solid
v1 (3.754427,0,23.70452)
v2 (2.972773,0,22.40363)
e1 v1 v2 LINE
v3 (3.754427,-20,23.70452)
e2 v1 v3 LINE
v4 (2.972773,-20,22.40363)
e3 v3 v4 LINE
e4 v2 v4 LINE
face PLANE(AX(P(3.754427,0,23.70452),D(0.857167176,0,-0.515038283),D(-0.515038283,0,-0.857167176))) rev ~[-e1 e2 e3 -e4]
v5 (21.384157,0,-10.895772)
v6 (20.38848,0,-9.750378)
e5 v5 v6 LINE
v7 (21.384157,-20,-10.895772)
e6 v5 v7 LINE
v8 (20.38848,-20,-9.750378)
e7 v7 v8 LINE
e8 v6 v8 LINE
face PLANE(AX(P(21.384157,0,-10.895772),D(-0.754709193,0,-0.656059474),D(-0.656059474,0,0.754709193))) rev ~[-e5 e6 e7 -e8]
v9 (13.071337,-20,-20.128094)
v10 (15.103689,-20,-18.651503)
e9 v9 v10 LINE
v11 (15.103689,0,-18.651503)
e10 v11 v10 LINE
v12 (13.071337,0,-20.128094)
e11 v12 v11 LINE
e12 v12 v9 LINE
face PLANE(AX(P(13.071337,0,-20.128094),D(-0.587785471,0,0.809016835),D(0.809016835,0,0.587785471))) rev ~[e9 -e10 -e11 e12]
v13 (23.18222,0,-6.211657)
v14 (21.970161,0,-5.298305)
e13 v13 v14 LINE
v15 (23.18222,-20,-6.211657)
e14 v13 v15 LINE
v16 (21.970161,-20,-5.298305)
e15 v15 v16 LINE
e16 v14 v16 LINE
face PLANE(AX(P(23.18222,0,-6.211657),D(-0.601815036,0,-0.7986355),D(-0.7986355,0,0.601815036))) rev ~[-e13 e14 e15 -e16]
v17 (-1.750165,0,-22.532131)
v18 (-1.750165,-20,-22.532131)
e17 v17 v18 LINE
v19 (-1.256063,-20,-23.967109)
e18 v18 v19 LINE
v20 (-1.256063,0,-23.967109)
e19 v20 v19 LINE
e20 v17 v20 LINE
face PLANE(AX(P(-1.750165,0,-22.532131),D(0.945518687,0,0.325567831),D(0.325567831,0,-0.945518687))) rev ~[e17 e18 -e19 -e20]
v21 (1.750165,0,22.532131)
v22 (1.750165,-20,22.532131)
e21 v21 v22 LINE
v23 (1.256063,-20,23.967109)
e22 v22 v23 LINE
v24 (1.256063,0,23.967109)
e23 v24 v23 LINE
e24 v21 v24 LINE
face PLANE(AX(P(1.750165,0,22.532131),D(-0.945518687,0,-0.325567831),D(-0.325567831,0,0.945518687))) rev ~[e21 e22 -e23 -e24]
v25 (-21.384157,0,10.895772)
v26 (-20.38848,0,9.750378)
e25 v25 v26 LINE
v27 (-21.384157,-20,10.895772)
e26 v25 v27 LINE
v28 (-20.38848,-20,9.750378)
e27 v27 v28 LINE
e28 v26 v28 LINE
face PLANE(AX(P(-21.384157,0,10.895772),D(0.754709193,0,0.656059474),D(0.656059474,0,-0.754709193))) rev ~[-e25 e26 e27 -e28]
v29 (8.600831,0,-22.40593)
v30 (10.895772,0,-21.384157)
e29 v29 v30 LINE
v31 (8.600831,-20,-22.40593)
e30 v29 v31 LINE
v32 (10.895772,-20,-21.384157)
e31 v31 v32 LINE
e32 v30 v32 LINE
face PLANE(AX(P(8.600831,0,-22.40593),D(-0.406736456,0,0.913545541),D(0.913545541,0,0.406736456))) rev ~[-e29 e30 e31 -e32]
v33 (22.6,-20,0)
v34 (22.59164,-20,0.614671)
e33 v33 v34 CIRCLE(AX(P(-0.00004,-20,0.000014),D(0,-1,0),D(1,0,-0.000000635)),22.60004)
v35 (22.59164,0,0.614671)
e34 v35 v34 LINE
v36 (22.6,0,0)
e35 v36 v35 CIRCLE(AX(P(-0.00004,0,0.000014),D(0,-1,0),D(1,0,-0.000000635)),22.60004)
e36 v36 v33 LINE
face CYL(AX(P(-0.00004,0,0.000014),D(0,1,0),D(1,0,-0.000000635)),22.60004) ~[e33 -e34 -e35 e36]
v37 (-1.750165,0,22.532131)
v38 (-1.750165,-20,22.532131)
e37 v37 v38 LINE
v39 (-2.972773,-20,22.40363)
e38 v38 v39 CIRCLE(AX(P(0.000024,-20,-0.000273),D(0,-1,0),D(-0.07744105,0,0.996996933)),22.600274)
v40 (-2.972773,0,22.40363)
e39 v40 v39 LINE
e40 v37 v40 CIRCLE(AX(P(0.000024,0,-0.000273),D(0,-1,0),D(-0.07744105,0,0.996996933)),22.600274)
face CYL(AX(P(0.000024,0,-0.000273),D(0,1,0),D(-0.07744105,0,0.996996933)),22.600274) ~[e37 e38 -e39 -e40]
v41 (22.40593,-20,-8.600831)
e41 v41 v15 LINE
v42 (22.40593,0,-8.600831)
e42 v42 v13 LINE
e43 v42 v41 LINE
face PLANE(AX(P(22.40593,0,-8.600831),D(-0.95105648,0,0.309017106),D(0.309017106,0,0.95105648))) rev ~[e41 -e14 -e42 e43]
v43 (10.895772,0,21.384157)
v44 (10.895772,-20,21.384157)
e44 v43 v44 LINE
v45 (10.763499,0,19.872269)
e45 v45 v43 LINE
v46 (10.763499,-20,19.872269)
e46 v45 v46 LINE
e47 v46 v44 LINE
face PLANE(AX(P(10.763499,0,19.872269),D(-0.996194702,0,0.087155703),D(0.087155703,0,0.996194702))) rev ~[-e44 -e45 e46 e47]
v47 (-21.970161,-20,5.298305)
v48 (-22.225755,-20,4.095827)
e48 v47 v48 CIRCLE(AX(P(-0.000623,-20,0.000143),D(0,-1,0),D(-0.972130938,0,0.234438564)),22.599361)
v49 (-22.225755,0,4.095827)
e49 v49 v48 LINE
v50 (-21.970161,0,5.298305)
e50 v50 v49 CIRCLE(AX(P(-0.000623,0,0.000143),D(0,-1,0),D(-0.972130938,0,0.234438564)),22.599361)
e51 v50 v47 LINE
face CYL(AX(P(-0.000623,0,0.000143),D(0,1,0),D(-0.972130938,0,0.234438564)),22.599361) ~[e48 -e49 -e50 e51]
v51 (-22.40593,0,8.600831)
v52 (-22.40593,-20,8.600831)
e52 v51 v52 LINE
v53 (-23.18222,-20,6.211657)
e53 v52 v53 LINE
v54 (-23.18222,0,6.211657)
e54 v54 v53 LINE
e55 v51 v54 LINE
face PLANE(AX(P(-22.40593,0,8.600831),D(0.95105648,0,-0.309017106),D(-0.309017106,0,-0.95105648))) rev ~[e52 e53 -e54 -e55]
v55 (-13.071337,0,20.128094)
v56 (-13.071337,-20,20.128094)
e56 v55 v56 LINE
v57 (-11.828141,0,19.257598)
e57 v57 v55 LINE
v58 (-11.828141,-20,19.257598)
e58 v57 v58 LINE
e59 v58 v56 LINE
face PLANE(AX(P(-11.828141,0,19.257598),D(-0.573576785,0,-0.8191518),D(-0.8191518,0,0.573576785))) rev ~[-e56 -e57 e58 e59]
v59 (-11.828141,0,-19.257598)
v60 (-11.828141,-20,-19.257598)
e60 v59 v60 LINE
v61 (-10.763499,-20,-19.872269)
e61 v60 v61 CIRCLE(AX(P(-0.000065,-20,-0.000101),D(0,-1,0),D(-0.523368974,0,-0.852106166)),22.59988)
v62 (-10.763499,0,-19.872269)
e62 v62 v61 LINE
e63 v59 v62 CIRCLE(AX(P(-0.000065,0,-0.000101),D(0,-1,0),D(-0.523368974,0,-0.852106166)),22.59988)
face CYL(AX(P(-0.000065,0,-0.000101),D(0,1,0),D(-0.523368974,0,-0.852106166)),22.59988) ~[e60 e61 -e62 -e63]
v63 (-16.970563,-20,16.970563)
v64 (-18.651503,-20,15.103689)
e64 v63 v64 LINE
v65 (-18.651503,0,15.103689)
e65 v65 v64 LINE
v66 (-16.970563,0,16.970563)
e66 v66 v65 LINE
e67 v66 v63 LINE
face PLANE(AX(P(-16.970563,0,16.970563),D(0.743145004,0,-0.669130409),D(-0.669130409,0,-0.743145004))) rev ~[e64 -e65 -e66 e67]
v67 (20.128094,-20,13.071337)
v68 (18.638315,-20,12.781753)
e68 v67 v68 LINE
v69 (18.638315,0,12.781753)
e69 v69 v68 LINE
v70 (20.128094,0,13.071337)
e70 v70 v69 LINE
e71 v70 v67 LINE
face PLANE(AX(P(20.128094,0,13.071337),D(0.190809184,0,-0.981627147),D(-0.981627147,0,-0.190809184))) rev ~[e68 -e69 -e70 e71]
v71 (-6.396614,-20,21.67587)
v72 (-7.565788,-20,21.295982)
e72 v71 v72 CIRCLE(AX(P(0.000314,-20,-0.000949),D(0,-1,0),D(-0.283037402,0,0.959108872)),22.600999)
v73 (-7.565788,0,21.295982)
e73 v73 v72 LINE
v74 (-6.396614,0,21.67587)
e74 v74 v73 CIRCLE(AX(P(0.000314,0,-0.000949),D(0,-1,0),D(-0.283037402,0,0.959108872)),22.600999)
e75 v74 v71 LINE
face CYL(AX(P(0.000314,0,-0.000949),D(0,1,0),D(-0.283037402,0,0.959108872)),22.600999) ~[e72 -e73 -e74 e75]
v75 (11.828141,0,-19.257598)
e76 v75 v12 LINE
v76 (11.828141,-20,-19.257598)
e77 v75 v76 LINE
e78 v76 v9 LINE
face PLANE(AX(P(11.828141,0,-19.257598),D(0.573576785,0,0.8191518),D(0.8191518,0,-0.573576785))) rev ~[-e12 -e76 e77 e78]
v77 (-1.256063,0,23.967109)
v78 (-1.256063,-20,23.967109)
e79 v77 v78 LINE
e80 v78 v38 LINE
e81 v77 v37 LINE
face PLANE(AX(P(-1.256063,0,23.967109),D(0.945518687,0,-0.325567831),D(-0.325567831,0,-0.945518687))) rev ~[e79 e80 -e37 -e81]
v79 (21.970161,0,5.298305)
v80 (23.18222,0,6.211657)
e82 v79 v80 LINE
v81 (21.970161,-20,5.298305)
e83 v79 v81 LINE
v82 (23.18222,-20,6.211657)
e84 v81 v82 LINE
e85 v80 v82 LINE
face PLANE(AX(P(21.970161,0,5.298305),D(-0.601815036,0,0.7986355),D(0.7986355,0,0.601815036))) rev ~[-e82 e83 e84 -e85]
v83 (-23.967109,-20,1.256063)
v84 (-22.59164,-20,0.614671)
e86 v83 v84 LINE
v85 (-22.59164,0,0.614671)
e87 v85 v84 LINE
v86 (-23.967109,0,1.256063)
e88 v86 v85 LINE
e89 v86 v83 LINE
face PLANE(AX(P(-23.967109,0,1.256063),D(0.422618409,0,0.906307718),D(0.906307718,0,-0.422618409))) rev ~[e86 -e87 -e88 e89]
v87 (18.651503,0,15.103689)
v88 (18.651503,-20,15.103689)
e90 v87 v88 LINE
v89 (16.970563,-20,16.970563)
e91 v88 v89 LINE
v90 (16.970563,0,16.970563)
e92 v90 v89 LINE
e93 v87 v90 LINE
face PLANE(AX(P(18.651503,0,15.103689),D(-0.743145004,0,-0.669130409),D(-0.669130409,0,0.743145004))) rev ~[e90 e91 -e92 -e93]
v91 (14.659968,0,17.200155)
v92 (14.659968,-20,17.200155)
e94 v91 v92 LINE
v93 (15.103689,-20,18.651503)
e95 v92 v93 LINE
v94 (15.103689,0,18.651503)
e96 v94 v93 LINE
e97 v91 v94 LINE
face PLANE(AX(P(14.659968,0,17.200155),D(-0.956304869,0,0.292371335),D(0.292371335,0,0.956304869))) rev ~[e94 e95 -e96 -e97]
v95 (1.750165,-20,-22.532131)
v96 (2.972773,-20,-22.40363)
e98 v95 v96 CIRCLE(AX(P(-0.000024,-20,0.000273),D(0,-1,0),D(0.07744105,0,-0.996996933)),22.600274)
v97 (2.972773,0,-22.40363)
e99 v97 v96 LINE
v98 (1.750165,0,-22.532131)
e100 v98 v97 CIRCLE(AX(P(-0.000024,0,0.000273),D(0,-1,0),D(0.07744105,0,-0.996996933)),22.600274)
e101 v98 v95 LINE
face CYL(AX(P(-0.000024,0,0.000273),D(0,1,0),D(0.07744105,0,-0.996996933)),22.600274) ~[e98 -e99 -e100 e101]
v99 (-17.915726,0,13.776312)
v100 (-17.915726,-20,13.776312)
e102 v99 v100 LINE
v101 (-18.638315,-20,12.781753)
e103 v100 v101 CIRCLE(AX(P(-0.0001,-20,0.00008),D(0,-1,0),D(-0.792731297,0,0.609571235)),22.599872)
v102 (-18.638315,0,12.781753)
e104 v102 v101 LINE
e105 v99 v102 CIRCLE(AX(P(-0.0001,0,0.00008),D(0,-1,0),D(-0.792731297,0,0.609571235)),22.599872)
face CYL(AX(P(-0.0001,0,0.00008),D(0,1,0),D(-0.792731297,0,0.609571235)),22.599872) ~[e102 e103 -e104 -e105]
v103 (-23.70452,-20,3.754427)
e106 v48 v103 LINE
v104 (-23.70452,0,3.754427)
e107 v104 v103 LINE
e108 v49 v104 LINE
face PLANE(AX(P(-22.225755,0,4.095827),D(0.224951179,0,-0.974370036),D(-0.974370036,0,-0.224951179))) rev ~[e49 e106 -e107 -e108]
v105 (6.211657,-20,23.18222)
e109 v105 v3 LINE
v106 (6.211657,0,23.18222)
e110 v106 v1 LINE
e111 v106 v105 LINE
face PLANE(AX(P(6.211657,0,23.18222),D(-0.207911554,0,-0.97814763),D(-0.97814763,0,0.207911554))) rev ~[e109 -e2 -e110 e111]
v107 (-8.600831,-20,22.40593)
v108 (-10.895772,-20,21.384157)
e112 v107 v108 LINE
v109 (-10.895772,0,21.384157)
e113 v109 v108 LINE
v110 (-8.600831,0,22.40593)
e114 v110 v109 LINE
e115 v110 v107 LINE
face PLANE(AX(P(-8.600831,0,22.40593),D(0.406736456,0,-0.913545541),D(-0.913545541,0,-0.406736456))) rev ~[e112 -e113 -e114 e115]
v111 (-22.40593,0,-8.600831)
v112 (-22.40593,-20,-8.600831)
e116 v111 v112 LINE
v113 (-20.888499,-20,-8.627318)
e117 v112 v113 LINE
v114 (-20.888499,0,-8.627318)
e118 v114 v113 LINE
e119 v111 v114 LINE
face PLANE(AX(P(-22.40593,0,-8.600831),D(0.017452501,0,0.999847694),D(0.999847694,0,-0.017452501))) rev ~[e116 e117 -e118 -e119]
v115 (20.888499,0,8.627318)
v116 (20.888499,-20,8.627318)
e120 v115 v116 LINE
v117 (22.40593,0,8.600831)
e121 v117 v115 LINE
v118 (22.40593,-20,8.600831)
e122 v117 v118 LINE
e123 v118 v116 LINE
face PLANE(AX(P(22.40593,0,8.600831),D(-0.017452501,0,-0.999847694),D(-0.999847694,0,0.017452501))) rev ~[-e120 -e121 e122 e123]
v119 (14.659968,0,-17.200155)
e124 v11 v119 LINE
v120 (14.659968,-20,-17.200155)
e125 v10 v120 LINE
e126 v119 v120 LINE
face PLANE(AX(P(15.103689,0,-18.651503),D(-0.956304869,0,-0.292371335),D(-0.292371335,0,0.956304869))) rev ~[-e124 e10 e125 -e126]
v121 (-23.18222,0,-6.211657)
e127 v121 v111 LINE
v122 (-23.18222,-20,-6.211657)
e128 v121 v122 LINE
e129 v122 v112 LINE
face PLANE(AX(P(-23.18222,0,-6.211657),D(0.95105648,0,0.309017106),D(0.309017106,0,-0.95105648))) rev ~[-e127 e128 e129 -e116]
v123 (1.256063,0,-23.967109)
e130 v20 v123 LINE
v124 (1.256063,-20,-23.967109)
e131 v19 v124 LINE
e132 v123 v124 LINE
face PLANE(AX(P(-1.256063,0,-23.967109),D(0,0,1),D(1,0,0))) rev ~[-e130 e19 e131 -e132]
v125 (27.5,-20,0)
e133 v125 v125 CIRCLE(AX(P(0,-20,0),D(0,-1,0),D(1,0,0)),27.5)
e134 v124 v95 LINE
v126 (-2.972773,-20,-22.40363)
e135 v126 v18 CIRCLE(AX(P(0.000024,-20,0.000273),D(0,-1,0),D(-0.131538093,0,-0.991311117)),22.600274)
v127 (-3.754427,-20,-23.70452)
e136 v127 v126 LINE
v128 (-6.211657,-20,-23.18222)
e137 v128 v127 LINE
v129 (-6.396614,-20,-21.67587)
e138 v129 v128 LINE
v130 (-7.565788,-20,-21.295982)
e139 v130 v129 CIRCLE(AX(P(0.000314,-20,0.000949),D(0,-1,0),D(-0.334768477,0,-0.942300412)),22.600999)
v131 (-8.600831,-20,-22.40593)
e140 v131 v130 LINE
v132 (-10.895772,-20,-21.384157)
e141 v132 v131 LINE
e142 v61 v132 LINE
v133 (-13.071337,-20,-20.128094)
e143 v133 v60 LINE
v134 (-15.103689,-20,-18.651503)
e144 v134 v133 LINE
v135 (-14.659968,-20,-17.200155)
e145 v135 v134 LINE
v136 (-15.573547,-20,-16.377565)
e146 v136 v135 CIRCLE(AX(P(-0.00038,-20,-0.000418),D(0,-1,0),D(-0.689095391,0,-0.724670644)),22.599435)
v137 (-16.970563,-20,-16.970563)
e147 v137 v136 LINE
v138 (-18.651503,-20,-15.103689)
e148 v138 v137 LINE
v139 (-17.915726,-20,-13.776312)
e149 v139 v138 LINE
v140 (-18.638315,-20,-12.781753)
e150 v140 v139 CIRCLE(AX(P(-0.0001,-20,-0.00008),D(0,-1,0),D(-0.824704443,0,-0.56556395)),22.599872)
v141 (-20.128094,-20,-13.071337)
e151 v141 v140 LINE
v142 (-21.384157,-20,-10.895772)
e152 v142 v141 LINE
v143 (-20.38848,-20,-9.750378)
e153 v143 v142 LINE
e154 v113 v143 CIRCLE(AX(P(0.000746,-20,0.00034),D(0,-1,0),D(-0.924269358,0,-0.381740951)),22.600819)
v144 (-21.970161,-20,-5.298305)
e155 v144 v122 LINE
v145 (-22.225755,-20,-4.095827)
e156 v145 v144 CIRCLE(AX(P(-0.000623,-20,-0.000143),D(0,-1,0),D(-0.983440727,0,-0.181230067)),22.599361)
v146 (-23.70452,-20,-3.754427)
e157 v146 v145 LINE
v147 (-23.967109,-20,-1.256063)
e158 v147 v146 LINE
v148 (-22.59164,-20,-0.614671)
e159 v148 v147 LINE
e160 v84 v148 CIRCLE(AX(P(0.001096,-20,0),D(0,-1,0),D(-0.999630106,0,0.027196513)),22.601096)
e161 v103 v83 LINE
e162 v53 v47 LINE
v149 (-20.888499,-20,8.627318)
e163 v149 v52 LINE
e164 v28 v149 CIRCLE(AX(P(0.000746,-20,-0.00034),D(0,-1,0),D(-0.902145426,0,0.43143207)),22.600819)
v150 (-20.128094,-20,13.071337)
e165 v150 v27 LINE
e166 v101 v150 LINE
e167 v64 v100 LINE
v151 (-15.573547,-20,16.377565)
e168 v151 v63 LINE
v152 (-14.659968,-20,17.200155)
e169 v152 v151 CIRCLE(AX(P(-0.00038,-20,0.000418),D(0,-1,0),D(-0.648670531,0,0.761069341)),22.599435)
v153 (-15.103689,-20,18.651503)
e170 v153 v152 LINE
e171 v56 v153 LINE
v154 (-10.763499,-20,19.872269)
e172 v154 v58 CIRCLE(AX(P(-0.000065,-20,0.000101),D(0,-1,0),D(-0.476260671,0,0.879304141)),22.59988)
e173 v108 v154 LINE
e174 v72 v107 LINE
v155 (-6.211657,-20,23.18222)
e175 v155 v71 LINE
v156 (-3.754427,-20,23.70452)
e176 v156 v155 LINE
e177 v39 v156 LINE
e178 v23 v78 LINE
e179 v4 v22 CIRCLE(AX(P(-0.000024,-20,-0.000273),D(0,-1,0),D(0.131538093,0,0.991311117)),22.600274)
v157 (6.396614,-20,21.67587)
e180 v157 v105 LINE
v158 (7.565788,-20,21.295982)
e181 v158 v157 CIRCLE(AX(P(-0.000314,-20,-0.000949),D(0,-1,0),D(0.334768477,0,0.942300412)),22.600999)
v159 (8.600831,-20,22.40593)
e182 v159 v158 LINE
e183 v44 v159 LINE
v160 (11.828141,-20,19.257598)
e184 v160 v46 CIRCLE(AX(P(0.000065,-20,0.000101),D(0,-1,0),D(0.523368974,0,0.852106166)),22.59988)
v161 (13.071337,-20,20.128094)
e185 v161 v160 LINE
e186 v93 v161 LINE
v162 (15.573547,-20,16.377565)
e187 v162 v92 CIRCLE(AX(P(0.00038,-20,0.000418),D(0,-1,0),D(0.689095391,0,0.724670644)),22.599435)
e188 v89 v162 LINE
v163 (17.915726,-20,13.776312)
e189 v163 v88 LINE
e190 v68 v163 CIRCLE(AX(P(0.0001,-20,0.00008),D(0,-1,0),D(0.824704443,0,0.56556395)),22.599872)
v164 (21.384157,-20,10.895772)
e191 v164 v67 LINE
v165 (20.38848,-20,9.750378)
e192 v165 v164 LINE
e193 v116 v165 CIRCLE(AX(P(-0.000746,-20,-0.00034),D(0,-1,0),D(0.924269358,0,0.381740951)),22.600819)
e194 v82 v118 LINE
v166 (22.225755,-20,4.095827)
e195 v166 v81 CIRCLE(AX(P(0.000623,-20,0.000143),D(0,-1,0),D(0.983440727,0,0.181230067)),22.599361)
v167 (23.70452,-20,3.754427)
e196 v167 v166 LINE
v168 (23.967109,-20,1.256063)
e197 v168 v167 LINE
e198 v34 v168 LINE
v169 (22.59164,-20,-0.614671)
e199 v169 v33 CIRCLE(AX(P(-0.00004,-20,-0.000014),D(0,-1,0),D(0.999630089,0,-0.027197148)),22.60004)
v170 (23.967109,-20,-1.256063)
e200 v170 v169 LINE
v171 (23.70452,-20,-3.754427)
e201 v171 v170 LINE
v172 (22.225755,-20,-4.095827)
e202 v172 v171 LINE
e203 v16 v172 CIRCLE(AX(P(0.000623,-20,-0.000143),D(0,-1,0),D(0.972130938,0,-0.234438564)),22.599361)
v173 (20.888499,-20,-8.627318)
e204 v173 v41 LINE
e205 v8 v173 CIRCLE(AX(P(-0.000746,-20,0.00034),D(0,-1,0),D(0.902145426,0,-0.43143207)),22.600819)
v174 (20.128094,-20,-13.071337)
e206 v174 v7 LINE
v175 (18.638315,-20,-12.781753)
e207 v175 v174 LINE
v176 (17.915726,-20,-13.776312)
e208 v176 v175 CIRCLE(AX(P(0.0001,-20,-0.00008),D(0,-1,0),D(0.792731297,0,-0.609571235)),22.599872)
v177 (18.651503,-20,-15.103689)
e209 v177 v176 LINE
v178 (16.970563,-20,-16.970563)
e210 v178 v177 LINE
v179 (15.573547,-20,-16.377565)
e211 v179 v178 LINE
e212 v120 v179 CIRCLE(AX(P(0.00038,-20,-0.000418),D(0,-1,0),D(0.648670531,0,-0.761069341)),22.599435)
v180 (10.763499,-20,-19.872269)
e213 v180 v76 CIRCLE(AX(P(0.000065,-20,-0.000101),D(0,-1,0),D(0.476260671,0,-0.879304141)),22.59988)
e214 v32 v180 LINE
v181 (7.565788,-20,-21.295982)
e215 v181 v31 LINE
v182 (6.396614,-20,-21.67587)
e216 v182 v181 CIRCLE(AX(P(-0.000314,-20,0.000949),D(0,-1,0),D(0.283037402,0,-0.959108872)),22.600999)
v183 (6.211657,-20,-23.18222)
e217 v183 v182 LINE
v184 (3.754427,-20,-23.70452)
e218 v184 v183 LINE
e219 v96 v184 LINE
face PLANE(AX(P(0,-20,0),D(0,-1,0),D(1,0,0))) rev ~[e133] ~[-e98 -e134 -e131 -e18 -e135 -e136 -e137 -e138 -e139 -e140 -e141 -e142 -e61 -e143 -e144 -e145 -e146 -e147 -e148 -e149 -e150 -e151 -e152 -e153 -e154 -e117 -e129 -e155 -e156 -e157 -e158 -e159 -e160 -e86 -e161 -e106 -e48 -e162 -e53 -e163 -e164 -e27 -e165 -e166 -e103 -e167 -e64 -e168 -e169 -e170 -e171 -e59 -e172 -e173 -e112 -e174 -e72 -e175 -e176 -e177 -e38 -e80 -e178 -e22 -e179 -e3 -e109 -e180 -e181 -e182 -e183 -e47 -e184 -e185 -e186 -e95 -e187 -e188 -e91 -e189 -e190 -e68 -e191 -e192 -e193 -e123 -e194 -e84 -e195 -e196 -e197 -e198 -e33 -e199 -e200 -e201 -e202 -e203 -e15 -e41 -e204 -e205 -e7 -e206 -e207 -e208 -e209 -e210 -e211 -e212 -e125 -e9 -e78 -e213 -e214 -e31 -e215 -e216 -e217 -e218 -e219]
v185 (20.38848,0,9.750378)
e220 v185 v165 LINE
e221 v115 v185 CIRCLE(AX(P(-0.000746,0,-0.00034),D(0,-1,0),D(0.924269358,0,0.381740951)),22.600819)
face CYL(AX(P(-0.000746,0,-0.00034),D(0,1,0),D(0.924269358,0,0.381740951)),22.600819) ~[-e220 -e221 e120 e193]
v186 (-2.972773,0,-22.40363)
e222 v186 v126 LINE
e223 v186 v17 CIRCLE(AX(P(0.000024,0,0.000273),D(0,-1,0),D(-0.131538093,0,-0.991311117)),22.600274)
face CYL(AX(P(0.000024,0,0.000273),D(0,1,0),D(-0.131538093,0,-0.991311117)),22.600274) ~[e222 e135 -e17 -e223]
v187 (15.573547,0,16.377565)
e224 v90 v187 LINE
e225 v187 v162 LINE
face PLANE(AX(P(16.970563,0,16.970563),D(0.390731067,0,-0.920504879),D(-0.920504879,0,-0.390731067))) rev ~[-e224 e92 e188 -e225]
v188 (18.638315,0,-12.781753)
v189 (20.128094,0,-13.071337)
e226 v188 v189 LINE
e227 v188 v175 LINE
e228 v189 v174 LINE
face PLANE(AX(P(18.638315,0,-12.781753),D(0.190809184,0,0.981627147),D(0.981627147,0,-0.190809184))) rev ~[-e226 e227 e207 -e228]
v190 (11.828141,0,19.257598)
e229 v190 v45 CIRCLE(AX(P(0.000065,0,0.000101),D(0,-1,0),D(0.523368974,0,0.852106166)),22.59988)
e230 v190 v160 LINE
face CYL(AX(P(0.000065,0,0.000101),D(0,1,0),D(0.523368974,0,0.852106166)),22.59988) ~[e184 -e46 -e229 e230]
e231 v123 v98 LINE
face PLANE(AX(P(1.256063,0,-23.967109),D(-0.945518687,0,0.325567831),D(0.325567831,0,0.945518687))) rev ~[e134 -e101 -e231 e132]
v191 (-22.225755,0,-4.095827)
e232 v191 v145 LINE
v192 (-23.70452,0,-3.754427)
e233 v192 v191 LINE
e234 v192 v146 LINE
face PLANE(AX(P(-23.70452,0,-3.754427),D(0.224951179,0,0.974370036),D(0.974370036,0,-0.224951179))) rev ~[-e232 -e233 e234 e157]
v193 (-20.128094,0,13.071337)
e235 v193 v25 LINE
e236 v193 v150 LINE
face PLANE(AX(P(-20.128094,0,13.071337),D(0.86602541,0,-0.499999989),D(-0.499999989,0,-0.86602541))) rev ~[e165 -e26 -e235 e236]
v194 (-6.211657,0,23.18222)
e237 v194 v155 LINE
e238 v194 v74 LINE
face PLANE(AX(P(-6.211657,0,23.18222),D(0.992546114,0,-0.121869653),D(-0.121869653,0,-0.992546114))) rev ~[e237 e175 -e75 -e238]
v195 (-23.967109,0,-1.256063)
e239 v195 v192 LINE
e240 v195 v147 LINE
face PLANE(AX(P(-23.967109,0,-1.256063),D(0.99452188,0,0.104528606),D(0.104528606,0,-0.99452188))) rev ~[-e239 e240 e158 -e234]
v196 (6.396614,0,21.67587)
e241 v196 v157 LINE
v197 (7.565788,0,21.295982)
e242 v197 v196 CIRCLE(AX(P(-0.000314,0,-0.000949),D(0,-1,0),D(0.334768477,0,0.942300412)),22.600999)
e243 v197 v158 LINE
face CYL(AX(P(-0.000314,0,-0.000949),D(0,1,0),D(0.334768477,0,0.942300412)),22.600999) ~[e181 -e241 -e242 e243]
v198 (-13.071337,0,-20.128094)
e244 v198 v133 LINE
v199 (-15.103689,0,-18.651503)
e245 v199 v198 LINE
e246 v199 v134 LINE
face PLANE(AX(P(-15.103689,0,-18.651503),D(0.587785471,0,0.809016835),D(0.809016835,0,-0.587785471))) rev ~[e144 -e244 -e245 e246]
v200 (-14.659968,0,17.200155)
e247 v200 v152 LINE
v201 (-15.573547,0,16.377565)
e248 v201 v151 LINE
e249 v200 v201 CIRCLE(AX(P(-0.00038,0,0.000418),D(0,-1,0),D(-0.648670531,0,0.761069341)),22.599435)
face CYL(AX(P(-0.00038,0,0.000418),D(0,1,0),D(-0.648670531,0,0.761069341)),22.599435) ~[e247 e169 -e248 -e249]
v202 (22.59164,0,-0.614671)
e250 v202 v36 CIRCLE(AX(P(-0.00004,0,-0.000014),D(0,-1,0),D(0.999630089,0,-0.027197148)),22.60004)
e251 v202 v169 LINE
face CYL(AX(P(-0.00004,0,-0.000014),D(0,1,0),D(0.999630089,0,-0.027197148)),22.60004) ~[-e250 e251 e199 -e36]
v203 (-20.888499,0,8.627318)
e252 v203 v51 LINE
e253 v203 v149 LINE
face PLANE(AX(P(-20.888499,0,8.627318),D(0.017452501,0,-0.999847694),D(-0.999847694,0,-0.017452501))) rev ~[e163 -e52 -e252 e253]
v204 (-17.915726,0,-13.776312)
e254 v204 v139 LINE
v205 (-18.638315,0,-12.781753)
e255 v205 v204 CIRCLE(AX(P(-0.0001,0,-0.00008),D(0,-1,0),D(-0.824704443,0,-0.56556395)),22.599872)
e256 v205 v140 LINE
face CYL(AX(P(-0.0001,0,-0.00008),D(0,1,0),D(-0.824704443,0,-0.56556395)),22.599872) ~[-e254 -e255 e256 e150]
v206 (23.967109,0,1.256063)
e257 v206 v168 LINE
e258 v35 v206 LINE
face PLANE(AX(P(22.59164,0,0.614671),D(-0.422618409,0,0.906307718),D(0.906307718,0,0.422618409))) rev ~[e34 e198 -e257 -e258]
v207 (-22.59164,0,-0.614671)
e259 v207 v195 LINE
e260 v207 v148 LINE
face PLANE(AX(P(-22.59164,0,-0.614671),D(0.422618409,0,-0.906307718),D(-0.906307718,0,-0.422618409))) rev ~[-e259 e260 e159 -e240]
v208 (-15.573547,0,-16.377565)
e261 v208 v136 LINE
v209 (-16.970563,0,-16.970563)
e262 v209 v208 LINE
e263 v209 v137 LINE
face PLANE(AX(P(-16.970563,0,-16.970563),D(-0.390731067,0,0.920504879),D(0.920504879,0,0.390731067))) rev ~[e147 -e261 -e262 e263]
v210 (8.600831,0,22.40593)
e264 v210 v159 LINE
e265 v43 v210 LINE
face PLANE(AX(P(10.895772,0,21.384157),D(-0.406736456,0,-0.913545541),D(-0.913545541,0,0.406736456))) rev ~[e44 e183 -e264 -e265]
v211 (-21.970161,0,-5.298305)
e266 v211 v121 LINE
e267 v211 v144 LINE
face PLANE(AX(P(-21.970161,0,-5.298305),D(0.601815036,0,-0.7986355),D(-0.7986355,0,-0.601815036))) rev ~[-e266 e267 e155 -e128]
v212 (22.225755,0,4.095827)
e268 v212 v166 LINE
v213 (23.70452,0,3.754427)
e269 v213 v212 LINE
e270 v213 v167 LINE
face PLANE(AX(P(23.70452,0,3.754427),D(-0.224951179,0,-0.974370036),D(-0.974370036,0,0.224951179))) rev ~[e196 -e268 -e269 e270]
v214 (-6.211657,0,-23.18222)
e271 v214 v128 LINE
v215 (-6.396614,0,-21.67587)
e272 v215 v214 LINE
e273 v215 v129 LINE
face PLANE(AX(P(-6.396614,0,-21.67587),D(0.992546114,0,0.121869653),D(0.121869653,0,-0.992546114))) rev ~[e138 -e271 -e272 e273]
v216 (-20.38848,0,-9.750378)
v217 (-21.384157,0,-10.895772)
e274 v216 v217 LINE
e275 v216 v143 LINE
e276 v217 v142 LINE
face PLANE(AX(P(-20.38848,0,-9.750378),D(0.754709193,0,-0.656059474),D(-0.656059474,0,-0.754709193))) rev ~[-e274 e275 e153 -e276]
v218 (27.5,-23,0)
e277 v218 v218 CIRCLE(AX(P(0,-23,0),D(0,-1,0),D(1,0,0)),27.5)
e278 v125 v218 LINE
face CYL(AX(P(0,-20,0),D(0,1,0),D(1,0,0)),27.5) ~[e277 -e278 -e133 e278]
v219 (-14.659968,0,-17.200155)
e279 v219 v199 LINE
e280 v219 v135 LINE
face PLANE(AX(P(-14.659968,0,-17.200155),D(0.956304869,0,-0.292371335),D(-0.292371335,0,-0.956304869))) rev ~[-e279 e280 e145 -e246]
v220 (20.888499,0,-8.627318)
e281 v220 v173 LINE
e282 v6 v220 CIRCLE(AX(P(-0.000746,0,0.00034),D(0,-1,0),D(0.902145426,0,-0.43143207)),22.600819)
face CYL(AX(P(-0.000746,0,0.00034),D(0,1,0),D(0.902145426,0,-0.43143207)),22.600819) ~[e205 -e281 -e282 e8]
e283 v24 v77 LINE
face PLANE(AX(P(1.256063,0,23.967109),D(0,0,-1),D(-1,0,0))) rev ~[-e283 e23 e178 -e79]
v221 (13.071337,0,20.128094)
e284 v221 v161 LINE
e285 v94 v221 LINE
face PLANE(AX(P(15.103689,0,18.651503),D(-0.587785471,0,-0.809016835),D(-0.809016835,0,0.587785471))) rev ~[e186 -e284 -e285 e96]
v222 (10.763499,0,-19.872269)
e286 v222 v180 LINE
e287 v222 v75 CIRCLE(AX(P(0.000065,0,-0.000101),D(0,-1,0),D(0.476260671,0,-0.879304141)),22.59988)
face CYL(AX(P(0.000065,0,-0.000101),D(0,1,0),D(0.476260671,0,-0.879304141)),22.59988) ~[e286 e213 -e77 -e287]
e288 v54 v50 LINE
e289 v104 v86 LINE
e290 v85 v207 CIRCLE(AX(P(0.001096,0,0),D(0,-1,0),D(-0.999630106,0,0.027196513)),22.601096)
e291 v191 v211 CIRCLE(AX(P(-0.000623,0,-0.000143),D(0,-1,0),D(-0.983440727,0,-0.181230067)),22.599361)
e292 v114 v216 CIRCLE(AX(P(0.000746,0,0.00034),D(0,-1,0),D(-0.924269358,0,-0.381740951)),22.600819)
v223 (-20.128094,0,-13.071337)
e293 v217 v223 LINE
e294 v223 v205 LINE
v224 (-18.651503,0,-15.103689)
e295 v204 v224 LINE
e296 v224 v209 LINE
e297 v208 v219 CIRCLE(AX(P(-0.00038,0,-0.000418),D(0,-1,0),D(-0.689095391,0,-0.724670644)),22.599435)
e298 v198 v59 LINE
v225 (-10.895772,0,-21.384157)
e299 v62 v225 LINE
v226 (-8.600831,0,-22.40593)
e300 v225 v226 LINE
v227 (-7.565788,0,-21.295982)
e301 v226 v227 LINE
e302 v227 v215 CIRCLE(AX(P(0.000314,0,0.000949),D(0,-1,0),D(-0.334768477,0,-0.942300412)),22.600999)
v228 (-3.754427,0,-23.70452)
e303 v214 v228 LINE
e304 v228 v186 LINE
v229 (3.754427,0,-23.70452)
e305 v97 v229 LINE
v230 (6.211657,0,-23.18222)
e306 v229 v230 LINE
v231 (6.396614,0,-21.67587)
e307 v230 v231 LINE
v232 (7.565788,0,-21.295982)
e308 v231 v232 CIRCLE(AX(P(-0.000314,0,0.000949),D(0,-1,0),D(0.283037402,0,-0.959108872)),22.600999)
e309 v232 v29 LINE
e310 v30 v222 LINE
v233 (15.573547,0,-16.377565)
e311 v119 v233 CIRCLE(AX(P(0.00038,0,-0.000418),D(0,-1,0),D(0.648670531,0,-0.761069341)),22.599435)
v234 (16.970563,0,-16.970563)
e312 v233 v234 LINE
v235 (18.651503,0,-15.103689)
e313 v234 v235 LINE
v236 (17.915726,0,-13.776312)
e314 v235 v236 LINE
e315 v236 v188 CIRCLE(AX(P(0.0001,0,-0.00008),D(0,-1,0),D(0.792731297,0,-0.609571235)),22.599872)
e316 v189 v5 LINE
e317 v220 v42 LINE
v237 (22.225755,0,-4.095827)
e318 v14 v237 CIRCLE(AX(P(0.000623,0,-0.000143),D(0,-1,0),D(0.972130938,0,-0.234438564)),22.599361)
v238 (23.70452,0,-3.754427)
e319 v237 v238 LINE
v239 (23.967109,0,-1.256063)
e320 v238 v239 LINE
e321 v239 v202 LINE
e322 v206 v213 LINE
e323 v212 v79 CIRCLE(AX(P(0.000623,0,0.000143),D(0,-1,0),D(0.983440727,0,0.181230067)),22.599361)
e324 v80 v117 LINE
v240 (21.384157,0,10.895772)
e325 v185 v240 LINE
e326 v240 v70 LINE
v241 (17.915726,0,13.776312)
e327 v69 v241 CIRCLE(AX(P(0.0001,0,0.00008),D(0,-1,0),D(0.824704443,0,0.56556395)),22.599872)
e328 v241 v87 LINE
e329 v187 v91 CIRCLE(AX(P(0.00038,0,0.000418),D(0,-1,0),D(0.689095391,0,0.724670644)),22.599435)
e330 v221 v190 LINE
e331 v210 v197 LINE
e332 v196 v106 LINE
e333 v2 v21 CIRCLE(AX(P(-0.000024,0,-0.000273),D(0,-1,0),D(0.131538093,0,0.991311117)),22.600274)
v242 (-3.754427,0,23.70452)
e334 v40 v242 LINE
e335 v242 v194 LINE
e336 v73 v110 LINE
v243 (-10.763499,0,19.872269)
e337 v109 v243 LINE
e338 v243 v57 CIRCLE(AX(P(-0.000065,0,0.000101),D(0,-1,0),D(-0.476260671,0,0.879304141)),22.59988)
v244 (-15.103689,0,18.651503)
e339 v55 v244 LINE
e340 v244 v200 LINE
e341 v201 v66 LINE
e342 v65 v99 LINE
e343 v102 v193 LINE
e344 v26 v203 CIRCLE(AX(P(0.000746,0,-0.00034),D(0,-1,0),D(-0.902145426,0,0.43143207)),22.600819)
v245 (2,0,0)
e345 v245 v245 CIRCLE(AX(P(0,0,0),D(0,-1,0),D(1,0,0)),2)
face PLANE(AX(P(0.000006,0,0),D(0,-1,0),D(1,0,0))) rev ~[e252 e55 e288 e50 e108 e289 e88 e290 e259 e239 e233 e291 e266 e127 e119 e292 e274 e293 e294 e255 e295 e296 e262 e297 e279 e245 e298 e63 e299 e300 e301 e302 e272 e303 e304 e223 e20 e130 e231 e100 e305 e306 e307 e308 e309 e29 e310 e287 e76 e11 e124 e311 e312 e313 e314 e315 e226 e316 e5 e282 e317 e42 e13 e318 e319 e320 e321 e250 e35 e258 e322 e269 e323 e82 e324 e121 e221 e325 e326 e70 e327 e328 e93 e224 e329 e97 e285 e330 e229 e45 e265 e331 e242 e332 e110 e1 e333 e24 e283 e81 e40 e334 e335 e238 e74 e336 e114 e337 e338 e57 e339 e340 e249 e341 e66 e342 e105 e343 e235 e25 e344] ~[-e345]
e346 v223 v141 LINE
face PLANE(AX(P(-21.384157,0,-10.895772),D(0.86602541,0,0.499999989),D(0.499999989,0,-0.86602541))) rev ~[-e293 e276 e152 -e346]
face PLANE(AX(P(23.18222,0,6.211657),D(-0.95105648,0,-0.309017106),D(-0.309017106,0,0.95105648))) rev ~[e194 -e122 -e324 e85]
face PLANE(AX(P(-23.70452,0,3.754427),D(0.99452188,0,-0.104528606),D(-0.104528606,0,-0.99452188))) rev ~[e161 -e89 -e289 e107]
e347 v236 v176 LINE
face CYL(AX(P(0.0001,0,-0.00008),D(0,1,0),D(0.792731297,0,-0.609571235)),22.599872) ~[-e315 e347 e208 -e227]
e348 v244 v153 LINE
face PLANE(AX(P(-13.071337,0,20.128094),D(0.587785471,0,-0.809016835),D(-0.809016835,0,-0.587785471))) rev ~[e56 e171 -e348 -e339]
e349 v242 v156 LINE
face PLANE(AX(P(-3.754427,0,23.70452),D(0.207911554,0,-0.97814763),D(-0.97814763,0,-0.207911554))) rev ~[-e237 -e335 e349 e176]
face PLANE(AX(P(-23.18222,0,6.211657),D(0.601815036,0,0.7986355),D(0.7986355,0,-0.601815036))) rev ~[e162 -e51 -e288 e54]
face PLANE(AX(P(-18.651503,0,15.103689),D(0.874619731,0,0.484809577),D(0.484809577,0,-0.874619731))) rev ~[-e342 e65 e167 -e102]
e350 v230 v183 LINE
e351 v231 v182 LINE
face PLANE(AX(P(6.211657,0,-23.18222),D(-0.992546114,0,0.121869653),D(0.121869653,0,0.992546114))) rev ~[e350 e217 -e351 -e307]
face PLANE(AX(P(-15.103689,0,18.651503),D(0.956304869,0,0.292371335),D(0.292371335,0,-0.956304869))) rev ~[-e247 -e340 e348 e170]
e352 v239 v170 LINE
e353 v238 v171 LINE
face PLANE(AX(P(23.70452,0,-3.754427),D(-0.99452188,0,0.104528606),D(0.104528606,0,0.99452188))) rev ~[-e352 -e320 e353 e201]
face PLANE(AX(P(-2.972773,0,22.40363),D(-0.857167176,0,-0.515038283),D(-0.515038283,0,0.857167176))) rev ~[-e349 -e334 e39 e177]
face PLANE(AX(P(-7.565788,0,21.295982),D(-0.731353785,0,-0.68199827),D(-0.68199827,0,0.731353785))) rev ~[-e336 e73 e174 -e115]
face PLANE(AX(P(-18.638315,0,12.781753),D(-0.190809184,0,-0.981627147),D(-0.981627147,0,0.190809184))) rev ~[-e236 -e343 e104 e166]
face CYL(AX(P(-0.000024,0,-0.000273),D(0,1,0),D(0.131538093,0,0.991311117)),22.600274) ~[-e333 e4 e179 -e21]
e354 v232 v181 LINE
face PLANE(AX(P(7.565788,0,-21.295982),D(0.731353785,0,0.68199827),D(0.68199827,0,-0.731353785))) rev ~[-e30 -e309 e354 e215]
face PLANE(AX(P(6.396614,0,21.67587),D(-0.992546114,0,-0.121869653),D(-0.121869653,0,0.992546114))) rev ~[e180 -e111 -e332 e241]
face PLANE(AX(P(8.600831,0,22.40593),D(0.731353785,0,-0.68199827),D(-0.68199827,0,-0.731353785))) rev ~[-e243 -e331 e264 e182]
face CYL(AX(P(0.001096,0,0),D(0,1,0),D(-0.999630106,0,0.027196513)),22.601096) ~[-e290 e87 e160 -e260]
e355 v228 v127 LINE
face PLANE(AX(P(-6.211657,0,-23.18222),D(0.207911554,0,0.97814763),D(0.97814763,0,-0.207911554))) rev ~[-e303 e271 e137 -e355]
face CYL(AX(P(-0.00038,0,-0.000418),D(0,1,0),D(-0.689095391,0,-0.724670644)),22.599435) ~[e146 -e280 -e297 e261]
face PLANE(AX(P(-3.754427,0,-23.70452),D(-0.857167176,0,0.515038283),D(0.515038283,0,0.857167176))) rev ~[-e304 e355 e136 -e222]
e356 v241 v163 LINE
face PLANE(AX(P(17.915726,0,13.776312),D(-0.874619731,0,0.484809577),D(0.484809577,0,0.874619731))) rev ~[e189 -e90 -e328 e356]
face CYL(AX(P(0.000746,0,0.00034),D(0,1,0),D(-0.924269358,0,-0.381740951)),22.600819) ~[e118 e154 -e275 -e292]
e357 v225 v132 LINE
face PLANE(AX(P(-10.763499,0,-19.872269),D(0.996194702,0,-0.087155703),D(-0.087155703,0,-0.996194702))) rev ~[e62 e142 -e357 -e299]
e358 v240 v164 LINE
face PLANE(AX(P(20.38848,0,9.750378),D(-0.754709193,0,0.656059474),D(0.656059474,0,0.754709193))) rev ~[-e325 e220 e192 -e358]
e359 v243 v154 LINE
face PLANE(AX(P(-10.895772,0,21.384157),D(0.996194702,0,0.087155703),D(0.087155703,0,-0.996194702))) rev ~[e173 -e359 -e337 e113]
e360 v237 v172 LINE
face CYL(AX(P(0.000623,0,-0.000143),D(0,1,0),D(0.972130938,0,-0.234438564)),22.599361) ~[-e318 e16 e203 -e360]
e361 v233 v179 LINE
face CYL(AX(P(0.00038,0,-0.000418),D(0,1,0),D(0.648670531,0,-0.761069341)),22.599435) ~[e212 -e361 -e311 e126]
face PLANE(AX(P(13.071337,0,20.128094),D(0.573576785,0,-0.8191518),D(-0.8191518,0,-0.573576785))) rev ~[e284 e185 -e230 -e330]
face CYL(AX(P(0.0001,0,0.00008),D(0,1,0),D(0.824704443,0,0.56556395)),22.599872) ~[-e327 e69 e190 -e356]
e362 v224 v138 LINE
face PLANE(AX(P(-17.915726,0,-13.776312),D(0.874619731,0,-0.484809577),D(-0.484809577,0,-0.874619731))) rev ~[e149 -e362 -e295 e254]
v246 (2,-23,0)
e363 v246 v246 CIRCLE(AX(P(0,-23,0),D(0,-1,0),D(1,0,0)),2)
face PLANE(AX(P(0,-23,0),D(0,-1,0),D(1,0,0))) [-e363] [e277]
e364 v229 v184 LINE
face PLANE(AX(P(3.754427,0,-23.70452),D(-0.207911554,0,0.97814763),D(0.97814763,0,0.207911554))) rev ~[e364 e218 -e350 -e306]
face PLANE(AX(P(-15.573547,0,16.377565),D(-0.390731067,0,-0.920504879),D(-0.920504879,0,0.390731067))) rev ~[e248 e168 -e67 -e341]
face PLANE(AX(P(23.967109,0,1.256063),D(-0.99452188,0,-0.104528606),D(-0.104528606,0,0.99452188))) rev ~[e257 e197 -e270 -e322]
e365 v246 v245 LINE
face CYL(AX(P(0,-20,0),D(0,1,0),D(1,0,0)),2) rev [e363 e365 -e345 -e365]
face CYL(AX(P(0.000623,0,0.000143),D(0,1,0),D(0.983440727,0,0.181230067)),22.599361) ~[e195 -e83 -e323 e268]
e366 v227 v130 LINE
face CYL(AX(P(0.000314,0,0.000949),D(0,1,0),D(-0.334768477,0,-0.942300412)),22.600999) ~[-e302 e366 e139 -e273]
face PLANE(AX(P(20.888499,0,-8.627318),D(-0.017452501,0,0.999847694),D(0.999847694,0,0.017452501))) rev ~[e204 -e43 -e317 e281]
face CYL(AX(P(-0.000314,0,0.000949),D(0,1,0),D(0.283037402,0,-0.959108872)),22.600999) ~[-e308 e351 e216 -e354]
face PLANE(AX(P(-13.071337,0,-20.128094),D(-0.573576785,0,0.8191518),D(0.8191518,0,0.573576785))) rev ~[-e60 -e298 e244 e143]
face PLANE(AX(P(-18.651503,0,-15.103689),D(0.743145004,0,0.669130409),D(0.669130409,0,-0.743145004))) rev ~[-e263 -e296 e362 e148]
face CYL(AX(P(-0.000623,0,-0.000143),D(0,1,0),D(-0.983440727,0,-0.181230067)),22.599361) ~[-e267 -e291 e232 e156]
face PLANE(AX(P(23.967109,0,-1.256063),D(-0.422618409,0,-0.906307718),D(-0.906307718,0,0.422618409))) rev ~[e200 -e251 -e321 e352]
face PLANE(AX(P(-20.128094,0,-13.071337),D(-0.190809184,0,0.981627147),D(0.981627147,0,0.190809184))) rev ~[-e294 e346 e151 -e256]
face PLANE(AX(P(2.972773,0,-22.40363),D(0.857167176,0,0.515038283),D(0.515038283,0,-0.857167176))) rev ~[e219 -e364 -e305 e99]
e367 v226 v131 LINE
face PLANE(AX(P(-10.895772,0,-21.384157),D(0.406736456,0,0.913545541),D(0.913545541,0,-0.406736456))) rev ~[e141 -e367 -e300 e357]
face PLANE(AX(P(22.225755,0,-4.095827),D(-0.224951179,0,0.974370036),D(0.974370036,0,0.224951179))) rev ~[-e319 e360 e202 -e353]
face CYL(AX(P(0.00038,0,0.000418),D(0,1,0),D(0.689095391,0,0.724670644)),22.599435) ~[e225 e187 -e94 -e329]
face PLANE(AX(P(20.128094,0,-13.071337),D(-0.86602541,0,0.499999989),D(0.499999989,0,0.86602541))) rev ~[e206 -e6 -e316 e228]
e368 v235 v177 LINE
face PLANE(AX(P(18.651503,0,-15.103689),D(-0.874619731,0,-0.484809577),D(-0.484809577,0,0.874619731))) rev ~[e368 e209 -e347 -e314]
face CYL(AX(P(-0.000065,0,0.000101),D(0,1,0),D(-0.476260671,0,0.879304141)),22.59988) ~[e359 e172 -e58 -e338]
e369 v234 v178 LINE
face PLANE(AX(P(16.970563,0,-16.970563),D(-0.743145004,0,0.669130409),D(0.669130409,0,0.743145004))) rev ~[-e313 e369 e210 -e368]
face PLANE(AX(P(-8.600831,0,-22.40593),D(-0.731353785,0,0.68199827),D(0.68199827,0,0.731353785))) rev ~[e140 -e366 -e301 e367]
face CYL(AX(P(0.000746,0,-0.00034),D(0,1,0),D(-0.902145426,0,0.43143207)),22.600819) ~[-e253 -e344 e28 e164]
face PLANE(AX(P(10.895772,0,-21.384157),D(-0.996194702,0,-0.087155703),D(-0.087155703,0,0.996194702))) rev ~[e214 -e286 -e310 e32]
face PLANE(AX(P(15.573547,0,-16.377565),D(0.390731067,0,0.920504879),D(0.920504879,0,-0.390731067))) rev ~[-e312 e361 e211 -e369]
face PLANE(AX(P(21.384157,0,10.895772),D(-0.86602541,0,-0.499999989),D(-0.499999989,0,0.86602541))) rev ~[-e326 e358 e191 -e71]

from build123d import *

# Parameters (mm, degrees)
F0_R     = 2
F1_DEPTH = 20
F2_R     = 27.5
F2_R_2   = 2
F3_DEPTH = 3


with BuildPart() as f1:
    # F0 (on Front) → F1 (new body)
    with BuildSketch(Plane.XZ):
        with BuildLine():
            ThreePointArc((22.59164, -0.614671), (22.59791, -0.307364), (22.6, 0))
            ThreePointArc((22.6, 0), (22.59791, 0.307364), (22.59164, 0.614671))
            ThreePointArc((22.59164, 0.614671), (22.476195, 2.362343), (22.225755, 4.095827))
            ThreePointArc((22.225755, 4.095827), (22.106136, 4.698804), (21.970161, 5.298305))
            ThreePointArc((21.970161, 5.298305), (21.493877, 6.983784), (20.888499, 8.627318))
            ThreePointArc((20.888499, 8.627318), (20.646127, 9.192248), (20.38848, 9.750378))
            ThreePointArc((20.38848, 9.750378), (19.572174, 11.3), (18.638315, 12.781753))
            ThreePointArc((18.638315, 12.781753), (18.283784, 13.283947), (17.915726, 13.776312))
            ThreePointArc((17.915726, 13.776312), (16.795073, 15.122352), (15.573547, 16.377565))
            ThreePointArc((15.573547, 16.377565), (15.122352, 16.795073), (14.659968, 17.200155))
            ThreePointArc((14.659968, 17.200155), (13.283947, 18.283784), (11.828141, 19.257598))
            ThreePointArc((11.828141, 19.257598), (11.3, 19.572174), (10.763499, 19.872269))
            ThreePointArc((10.763499, 19.872269), (9.192248, 20.646127), (7.565788, 21.295982))
            ThreePointArc((7.565788, 21.295982), (6.983784, 21.493877), (6.396614, 21.67587))
            ThreePointArc((6.396614, 21.67587), (4.698804, 22.106136), (2.972773, 22.40363))
            ThreePointArc((2.972773, 22.40363), (2.362343, 22.476195), (1.750165, 22.532131))
            ThreePointArc((1.750165, 22.532131), (0, 22.6), (-1.750165, 22.532131))
            ThreePointArc((-1.750165, 22.532131), (-2.362343, 22.476195), (-2.972773, 22.40363))
            ThreePointArc((-2.972773, 22.40363), (-4.698804, 22.106136), (-6.396614, 21.67587))
            ThreePointArc((-6.396614, 21.67587), (-6.983784, 21.493877), (-7.565788, 21.295982))
            ThreePointArc((-7.565788, 21.295982), (-9.192248, 20.646127), (-10.763499, 19.872269))
            ThreePointArc((-10.763499, 19.872269), (-11.3, 19.572174), (-11.828141, 19.257598))
            ThreePointArc((-11.828141, 19.257598), (-13.283947, 18.283784), (-14.659968, 17.200155))
            ThreePointArc((-14.659968, 17.200155), (-15.122352, 16.795073), (-15.573547, 16.377565))
            ThreePointArc((-15.573547, 16.377565), (-16.795073, 15.122352), (-17.915726, 13.776312))
            ThreePointArc((-17.915726, 13.776312), (-18.283784, 13.283947), (-18.638315, 12.781753))
            ThreePointArc((-18.638315, 12.781753), (-19.572174, 11.3), (-20.38848, 9.750378))
            ThreePointArc((-20.38848, 9.750378), (-20.646127, 9.192248), (-20.888499, 8.627318))
            ThreePointArc((-20.888499, 8.627318), (-21.493877, 6.983784), (-21.970161, 5.298305))
            ThreePointArc((-21.970161, 5.298305), (-22.106136, 4.698804), (-22.225755, 4.095827))
            ThreePointArc((-22.225755, 4.095827), (-22.476195, 2.362343), (-22.59164, 0.614671))
            ThreePointArc((-22.59164, 0.614671), (-22.6, 0), (-22.59164, -0.614671))
            ThreePointArc((-22.59164, -0.614671), (-22.476195, -2.362343), (-22.225755, -4.095827))
            ThreePointArc((-22.225755, -4.095827), (-22.106136, -4.698804), (-21.970161, -5.298305))
            ThreePointArc((-21.970161, -5.298305), (-21.493877, -6.983784), (-20.888499, -8.627318))
            ThreePointArc((-20.888499, -8.627318), (-20.646127, -9.192248), (-20.38848, -9.750378))
            ThreePointArc((-20.38848, -9.750378), (-19.572174, -11.3), (-18.638315, -12.781753))
            ThreePointArc((-18.638315, -12.781753), (-18.283784, -13.283947), (-17.915726, -13.776312))
            ThreePointArc((-17.915726, -13.776312), (-16.795073, -15.122352), (-15.573547, -16.377565))
            ThreePointArc((-15.573547, -16.377565), (-15.122352, -16.795073), (-14.659968, -17.200155))
            ThreePointArc((-14.659968, -17.200155), (-13.283947, -18.283784), (-11.828141, -19.257598))
            ThreePointArc((-11.828141, -19.257598), (-11.3, -19.572174), (-10.763499, -19.872269))
            ThreePointArc((-10.763499, -19.872269), (-9.192248, -20.646127), (-7.565788, -21.295982))
            ThreePointArc((-7.565788, -21.295982), (-6.983784, -21.493877), (-6.396614, -21.67587))
            ThreePointArc((-6.396614, -21.67587), (-4.698804, -22.106136), (-2.972773, -22.40363))
            ThreePointArc((-2.972773, -22.40363), (-2.362343, -22.476195), (-1.750165, -22.532131))
            ThreePointArc((-1.750165, -22.532131), (0, -22.6), (1.750165, -22.532131))
            ThreePointArc((1.750165, -22.532131), (2.362343, -22.476195), (2.972773, -22.40363))
            ThreePointArc((2.972773, -22.40363), (4.698804, -22.106136), (6.396614, -21.67587))
            ThreePointArc((6.396614, -21.67587), (6.983784, -21.493877), (7.565788, -21.295982))
            ThreePointArc((7.565788, -21.295982), (9.192248, -20.646127), (10.763499, -19.872269))
            ThreePointArc((10.763499, -19.872269), (11.3, -19.572174), (11.828141, -19.257598))
            ThreePointArc((11.828141, -19.257598), (13.283947, -18.283784), (14.659968, -17.200155))
            ThreePointArc((14.659968, -17.200155), (15.122352, -16.795073), (15.573547, -16.377565))
            ThreePointArc((15.573547, -16.377565), (16.795073, -15.122352), (17.915726, -13.776312))
            ThreePointArc((17.915726, -13.776312), (18.283784, -13.283947), (18.638315, -12.781753))
            ThreePointArc((18.638315, -12.781753), (19.572174, -11.3), (20.38848, -9.750378))
            ThreePointArc((20.38848, -9.750378), (20.646127, -9.192248), (20.888499, -8.627318))
            ThreePointArc((20.888499, -8.627318), (21.493877, -6.983784), (21.970161, -5.298305))
            ThreePointArc((21.970161, -5.298305), (22.106136, -4.698804), (22.225755, -4.095827))
            ThreePointArc((22.225755, -4.095827), (22.476195, -2.362343), (22.59164, -0.614671))
        make_face()
        Circle(F0_R, mode=Mode.SUBTRACT)
        with BuildLine():
            ThreePointArc((22.225755, 4.095827), (22.476195, 2.362343), (22.59164, 0.614671))
            Line((22.59164, 0.614671), (23.967109, 1.256063))
            Line((23.967109, 1.256063), (23.70452, 3.754427))
            Line((23.70452, 3.754427), (22.225755, 4.095827))
        make_face()
        with BuildLine():
            Line((23.967109, -1.256063), (22.59164, -0.614671))
            ThreePointArc((22.59164, -0.614671), (22.476195, -2.362343), (22.225755, -4.095827))
            Line((22.225755, -4.095827), (23.70452, -3.754427))
            Line((23.70452, -3.754427), (23.967109, -1.256063))
        make_face()
        with BuildLine():
            ThreePointArc((20.888499, 8.627318), (21.493877, 6.983784), (21.970161, 5.298305))
            Line((21.970161, 5.298305), (23.18222, 6.211657))
            Line((23.18222, 6.211657), (22.40593, 8.600831))
            Line((22.40593, 8.600831), (20.888499, 8.627318))
        make_face()
        with BuildLine():
            Line((23.18222, -6.211657), (21.970161, -5.298305))
            ThreePointArc((21.970161, -5.298305), (21.493877, -6.983784), (20.888499, -8.627318))
            Line((20.888499, -8.627318), (22.40593, -8.600831))
            Line((22.40593, -8.600831), (23.18222, -6.211657))
        make_face()
        with BuildLine():
            ThreePointArc((18.638315, 12.781753), (19.572174, 11.3), (20.38848, 9.750378))
            Line((20.38848, 9.750378), (21.384157, 10.895772))
            Line((21.384157, 10.895772), (20.128094, 13.071337))
            Line((20.128094, 13.071337), (18.638315, 12.781753))
        make_face()
        with BuildLine():
            Line((21.384157, -10.895772), (20.38848, -9.750378))
            ThreePointArc((20.38848, -9.750378), (19.572174, -11.3), (18.638315, -12.781753))
            Line((18.638315, -12.781753), (20.128094, -13.071337))
            Line((20.128094, -13.071337), (21.384157, -10.895772))
        make_face()
        with BuildLine():
            ThreePointArc((15.573547, 16.377565), (16.795073, 15.122352), (17.915726, 13.776312))
            Line((17.915726, 13.776312), (18.651503, 15.103689))
            Line((18.651503, 15.103689), (16.970563, 16.970563))
            Line((16.970563, 16.970563), (15.573547, 16.377565))
        make_face()
        with BuildLine():
            Line((18.651503, -15.103689), (17.915726, -13.776312))
            ThreePointArc((17.915726, -13.776312), (16.795073, -15.122352), (15.573547, -16.377565))
            Line((15.573547, -16.377565), (16.970563, -16.970563))
            Line((16.970563, -16.970563), (18.651503, -15.103689))
        make_face()
        with BuildLine():
            ThreePointArc((11.828141, 19.257598), (13.283947, 18.283784), (14.659968, 17.200155))
            Line((14.659968, 17.200155), (15.103689, 18.651503))
            Line((15.103689, 18.651503), (13.071337, 20.128094))
            Line((13.071337, 20.128094), (11.828141, 19.257598))
        make_face()
        with BuildLine():
            Line((15.103689, -18.651503), (14.659968, -17.200155))
            ThreePointArc((14.659968, -17.200155), (13.283947, -18.283784), (11.828141, -19.257598))
            Line((11.828141, -19.257598), (13.071337, -20.128094))
            Line((13.071337, -20.128094), (15.103689, -18.651503))
        make_face()
        with BuildLine():
            ThreePointArc((7.565788, 21.295982), (9.192248, 20.646127), (10.763499, 19.872269))
            Line((10.763499, 19.872269), (10.895772, 21.384157))
            Line((10.895772, 21.384157), (8.600831, 22.40593))
            Line((8.600831, 22.40593), (7.565788, 21.295982))
        make_face()
        with BuildLine():
            Line((10.895772, -21.384157), (10.763499, -19.872269))
            ThreePointArc((10.763499, -19.872269), (9.192248, -20.646127), (7.565788, -21.295982))
            Line((7.565788, -21.295982), (8.600831, -22.40593))
            Line((8.600831, -22.40593), (10.895772, -21.384157))
        make_face()
        with BuildLine():
            ThreePointArc((2.972773, 22.40363), (4.698804, 22.106136), (6.396614, 21.67587))
            Line((6.396614, 21.67587), (6.211657, 23.18222))
            Line((6.211657, 23.18222), (3.754427, 23.70452))
            Line((3.754427, 23.70452), (2.972773, 22.40363))
        make_face()
        with BuildLine():
            Line((6.211657, -23.18222), (6.396614, -21.67587))
            ThreePointArc((6.396614, -21.67587), (4.698804, -22.106136), (2.972773, -22.40363))
            Line((2.972773, -22.40363), (3.754427, -23.70452))
            Line((3.754427, -23.70452), (6.211657, -23.18222))
        make_face()
        with BuildLine():
            ThreePointArc((-1.750165, 22.532131), (0, 22.6), (1.750165, 22.532131))
            Line((1.750165, 22.532131), (1.256063, 23.967109))
            Line((1.256063, 23.967109), (-1.256063, 23.967109))
            Line((-1.256063, 23.967109), (-1.750165, 22.532131))
        make_face()
        with BuildLine():
            Line((1.256063, -23.967109), (1.750165, -22.532131))
            ThreePointArc((1.750165, -22.532131), (0, -22.6), (-1.750165, -22.532131))
            Line((-1.750165, -22.532131), (-1.256063, -23.967109))
            Line((-1.256063, -23.967109), (1.256063, -23.967109))
        make_face()
        with BuildLine():
            ThreePointArc((-6.396614, 21.67587), (-4.698804, 22.106136), (-2.972773, 22.40363))
            Line((-2.972773, 22.40363), (-3.754427, 23.70452))
            Line((-3.754427, 23.70452), (-6.211657, 23.18222))
            Line((-6.211657, 23.18222), (-6.396614, 21.67587))
        make_face()
        with BuildLine():
            Line((-3.754427, -23.70452), (-2.972773, -22.40363))
            ThreePointArc((-2.972773, -22.40363), (-4.698804, -22.106136), (-6.396614, -21.67587))
            Line((-6.396614, -21.67587), (-6.211657, -23.18222))
            Line((-6.211657, -23.18222), (-3.754427, -23.70452))
        make_face()
        with BuildLine():
            ThreePointArc((-10.763499, 19.872269), (-9.192248, 20.646127), (-7.565788, 21.295982))
            Line((-7.565788, 21.295982), (-8.600831, 22.40593))
            Line((-8.600831, 22.40593), (-10.895772, 21.384157))
            Line((-10.895772, 21.384157), (-10.763499, 19.872269))
        make_face()
        with BuildLine():
            Line((-8.600831, -22.40593), (-7.565788, -21.295982))
            ThreePointArc((-7.565788, -21.295982), (-9.192248, -20.646127), (-10.763499, -19.872269))
            Line((-10.763499, -19.872269), (-10.895772, -21.384157))
            Line((-10.895772, -21.384157), (-8.600831, -22.40593))
        make_face()
        with BuildLine():
            ThreePointArc((-14.659968, 17.200155), (-13.283947, 18.283784), (-11.828141, 19.257598))
            Line((-11.828141, 19.257598), (-13.071337, 20.128094))
            Line((-13.071337, 20.128094), (-15.103689, 18.651503))
            Line((-15.103689, 18.651503), (-14.659968, 17.200155))
        make_face()
        with BuildLine():
            Line((-13.071337, -20.128094), (-11.828141, -19.257598))
            ThreePointArc((-11.828141, -19.257598), (-13.283947, -18.283784), (-14.659968, -17.200155))
            Line((-14.659968, -17.200155), (-15.103689, -18.651503))
            Line((-15.103689, -18.651503), (-13.071337, -20.128094))
        make_face()
        with BuildLine():
            ThreePointArc((-17.915726, 13.776312), (-16.795073, 15.122352), (-15.573547, 16.377565))
            Line((-15.573547, 16.377565), (-16.970563, 16.970563))
            Line((-16.970563, 16.970563), (-18.651503, 15.103689))
            Line((-18.651503, 15.103689), (-17.915726, 13.776312))
        make_face()
        with BuildLine():
            Line((-16.970563, -16.970563), (-15.573547, -16.377565))
            ThreePointArc((-15.573547, -16.377565), (-16.795073, -15.122352), (-17.915726, -13.776312))
            Line((-17.915726, -13.776312), (-18.651503, -15.103689))
            Line((-18.651503, -15.103689), (-16.970563, -16.970563))
        make_face()
        with BuildLine():
            ThreePointArc((-20.38848, 9.750378), (-19.572174, 11.3), (-18.638315, 12.781753))
            Line((-18.638315, 12.781753), (-20.128094, 13.071337))
            Line((-20.128094, 13.071337), (-21.384157, 10.895772))
            Line((-21.384157, 10.895772), (-20.38848, 9.750378))
        make_face()
        with BuildLine():
            Line((-20.128094, -13.071337), (-18.638315, -12.781753))
            ThreePointArc((-18.638315, -12.781753), (-19.572174, -11.3), (-20.38848, -9.750378))
            Line((-20.38848, -9.750378), (-21.384157, -10.895772))
            Line((-21.384157, -10.895772), (-20.128094, -13.071337))
        make_face()
        with BuildLine():
            ThreePointArc((-21.970161, 5.298305), (-21.493877, 6.983784), (-20.888499, 8.627318))
            Line((-20.888499, 8.627318), (-22.40593, 8.600831))
            Line((-22.40593, 8.600831), (-23.18222, 6.211657))
            Line((-23.18222, 6.211657), (-21.970161, 5.298305))
        make_face()
        with BuildLine():
            Line((-22.40593, -8.600831), (-20.888499, -8.627318))
            ThreePointArc((-20.888499, -8.627318), (-21.493877, -6.983784), (-21.970161, -5.298305))
            Line((-21.970161, -5.298305), (-23.18222, -6.211657))
            Line((-23.18222, -6.211657), (-22.40593, -8.600831))
        make_face()
        with BuildLine():
            ThreePointArc((-22.59164, 0.614671), (-22.476195, 2.362343), (-22.225755, 4.095827))
            Line((-22.225755, 4.095827), (-23.70452, 3.754427))
            Line((-23.70452, 3.754427), (-23.967109, 1.256063))
            Line((-23.967109, 1.256063), (-22.59164, 0.614671))
        make_face()
        with BuildLine():
            Line((-23.70452, -3.754427), (-22.225755, -4.095827))
            ThreePointArc((-22.225755, -4.095827), (-22.476195, -2.362343), (-22.59164, -0.614671))
            Line((-22.59164, -0.614671), (-23.967109, -1.256063))
            Line((-23.967109, -1.256063), (-23.70452, -3.754427))
        make_face()
    extrude(amount=F1_DEPTH)

    # F2 (on face) → F3 (join)
    with BuildSketch(Plane.XZ.offset(20)):
        Circle(F2_R)
        Circle(F2_R_2, mode=Mode.SUBTRACT)
    extrude(amount=F3_DEPTH)


solid = f1.part
